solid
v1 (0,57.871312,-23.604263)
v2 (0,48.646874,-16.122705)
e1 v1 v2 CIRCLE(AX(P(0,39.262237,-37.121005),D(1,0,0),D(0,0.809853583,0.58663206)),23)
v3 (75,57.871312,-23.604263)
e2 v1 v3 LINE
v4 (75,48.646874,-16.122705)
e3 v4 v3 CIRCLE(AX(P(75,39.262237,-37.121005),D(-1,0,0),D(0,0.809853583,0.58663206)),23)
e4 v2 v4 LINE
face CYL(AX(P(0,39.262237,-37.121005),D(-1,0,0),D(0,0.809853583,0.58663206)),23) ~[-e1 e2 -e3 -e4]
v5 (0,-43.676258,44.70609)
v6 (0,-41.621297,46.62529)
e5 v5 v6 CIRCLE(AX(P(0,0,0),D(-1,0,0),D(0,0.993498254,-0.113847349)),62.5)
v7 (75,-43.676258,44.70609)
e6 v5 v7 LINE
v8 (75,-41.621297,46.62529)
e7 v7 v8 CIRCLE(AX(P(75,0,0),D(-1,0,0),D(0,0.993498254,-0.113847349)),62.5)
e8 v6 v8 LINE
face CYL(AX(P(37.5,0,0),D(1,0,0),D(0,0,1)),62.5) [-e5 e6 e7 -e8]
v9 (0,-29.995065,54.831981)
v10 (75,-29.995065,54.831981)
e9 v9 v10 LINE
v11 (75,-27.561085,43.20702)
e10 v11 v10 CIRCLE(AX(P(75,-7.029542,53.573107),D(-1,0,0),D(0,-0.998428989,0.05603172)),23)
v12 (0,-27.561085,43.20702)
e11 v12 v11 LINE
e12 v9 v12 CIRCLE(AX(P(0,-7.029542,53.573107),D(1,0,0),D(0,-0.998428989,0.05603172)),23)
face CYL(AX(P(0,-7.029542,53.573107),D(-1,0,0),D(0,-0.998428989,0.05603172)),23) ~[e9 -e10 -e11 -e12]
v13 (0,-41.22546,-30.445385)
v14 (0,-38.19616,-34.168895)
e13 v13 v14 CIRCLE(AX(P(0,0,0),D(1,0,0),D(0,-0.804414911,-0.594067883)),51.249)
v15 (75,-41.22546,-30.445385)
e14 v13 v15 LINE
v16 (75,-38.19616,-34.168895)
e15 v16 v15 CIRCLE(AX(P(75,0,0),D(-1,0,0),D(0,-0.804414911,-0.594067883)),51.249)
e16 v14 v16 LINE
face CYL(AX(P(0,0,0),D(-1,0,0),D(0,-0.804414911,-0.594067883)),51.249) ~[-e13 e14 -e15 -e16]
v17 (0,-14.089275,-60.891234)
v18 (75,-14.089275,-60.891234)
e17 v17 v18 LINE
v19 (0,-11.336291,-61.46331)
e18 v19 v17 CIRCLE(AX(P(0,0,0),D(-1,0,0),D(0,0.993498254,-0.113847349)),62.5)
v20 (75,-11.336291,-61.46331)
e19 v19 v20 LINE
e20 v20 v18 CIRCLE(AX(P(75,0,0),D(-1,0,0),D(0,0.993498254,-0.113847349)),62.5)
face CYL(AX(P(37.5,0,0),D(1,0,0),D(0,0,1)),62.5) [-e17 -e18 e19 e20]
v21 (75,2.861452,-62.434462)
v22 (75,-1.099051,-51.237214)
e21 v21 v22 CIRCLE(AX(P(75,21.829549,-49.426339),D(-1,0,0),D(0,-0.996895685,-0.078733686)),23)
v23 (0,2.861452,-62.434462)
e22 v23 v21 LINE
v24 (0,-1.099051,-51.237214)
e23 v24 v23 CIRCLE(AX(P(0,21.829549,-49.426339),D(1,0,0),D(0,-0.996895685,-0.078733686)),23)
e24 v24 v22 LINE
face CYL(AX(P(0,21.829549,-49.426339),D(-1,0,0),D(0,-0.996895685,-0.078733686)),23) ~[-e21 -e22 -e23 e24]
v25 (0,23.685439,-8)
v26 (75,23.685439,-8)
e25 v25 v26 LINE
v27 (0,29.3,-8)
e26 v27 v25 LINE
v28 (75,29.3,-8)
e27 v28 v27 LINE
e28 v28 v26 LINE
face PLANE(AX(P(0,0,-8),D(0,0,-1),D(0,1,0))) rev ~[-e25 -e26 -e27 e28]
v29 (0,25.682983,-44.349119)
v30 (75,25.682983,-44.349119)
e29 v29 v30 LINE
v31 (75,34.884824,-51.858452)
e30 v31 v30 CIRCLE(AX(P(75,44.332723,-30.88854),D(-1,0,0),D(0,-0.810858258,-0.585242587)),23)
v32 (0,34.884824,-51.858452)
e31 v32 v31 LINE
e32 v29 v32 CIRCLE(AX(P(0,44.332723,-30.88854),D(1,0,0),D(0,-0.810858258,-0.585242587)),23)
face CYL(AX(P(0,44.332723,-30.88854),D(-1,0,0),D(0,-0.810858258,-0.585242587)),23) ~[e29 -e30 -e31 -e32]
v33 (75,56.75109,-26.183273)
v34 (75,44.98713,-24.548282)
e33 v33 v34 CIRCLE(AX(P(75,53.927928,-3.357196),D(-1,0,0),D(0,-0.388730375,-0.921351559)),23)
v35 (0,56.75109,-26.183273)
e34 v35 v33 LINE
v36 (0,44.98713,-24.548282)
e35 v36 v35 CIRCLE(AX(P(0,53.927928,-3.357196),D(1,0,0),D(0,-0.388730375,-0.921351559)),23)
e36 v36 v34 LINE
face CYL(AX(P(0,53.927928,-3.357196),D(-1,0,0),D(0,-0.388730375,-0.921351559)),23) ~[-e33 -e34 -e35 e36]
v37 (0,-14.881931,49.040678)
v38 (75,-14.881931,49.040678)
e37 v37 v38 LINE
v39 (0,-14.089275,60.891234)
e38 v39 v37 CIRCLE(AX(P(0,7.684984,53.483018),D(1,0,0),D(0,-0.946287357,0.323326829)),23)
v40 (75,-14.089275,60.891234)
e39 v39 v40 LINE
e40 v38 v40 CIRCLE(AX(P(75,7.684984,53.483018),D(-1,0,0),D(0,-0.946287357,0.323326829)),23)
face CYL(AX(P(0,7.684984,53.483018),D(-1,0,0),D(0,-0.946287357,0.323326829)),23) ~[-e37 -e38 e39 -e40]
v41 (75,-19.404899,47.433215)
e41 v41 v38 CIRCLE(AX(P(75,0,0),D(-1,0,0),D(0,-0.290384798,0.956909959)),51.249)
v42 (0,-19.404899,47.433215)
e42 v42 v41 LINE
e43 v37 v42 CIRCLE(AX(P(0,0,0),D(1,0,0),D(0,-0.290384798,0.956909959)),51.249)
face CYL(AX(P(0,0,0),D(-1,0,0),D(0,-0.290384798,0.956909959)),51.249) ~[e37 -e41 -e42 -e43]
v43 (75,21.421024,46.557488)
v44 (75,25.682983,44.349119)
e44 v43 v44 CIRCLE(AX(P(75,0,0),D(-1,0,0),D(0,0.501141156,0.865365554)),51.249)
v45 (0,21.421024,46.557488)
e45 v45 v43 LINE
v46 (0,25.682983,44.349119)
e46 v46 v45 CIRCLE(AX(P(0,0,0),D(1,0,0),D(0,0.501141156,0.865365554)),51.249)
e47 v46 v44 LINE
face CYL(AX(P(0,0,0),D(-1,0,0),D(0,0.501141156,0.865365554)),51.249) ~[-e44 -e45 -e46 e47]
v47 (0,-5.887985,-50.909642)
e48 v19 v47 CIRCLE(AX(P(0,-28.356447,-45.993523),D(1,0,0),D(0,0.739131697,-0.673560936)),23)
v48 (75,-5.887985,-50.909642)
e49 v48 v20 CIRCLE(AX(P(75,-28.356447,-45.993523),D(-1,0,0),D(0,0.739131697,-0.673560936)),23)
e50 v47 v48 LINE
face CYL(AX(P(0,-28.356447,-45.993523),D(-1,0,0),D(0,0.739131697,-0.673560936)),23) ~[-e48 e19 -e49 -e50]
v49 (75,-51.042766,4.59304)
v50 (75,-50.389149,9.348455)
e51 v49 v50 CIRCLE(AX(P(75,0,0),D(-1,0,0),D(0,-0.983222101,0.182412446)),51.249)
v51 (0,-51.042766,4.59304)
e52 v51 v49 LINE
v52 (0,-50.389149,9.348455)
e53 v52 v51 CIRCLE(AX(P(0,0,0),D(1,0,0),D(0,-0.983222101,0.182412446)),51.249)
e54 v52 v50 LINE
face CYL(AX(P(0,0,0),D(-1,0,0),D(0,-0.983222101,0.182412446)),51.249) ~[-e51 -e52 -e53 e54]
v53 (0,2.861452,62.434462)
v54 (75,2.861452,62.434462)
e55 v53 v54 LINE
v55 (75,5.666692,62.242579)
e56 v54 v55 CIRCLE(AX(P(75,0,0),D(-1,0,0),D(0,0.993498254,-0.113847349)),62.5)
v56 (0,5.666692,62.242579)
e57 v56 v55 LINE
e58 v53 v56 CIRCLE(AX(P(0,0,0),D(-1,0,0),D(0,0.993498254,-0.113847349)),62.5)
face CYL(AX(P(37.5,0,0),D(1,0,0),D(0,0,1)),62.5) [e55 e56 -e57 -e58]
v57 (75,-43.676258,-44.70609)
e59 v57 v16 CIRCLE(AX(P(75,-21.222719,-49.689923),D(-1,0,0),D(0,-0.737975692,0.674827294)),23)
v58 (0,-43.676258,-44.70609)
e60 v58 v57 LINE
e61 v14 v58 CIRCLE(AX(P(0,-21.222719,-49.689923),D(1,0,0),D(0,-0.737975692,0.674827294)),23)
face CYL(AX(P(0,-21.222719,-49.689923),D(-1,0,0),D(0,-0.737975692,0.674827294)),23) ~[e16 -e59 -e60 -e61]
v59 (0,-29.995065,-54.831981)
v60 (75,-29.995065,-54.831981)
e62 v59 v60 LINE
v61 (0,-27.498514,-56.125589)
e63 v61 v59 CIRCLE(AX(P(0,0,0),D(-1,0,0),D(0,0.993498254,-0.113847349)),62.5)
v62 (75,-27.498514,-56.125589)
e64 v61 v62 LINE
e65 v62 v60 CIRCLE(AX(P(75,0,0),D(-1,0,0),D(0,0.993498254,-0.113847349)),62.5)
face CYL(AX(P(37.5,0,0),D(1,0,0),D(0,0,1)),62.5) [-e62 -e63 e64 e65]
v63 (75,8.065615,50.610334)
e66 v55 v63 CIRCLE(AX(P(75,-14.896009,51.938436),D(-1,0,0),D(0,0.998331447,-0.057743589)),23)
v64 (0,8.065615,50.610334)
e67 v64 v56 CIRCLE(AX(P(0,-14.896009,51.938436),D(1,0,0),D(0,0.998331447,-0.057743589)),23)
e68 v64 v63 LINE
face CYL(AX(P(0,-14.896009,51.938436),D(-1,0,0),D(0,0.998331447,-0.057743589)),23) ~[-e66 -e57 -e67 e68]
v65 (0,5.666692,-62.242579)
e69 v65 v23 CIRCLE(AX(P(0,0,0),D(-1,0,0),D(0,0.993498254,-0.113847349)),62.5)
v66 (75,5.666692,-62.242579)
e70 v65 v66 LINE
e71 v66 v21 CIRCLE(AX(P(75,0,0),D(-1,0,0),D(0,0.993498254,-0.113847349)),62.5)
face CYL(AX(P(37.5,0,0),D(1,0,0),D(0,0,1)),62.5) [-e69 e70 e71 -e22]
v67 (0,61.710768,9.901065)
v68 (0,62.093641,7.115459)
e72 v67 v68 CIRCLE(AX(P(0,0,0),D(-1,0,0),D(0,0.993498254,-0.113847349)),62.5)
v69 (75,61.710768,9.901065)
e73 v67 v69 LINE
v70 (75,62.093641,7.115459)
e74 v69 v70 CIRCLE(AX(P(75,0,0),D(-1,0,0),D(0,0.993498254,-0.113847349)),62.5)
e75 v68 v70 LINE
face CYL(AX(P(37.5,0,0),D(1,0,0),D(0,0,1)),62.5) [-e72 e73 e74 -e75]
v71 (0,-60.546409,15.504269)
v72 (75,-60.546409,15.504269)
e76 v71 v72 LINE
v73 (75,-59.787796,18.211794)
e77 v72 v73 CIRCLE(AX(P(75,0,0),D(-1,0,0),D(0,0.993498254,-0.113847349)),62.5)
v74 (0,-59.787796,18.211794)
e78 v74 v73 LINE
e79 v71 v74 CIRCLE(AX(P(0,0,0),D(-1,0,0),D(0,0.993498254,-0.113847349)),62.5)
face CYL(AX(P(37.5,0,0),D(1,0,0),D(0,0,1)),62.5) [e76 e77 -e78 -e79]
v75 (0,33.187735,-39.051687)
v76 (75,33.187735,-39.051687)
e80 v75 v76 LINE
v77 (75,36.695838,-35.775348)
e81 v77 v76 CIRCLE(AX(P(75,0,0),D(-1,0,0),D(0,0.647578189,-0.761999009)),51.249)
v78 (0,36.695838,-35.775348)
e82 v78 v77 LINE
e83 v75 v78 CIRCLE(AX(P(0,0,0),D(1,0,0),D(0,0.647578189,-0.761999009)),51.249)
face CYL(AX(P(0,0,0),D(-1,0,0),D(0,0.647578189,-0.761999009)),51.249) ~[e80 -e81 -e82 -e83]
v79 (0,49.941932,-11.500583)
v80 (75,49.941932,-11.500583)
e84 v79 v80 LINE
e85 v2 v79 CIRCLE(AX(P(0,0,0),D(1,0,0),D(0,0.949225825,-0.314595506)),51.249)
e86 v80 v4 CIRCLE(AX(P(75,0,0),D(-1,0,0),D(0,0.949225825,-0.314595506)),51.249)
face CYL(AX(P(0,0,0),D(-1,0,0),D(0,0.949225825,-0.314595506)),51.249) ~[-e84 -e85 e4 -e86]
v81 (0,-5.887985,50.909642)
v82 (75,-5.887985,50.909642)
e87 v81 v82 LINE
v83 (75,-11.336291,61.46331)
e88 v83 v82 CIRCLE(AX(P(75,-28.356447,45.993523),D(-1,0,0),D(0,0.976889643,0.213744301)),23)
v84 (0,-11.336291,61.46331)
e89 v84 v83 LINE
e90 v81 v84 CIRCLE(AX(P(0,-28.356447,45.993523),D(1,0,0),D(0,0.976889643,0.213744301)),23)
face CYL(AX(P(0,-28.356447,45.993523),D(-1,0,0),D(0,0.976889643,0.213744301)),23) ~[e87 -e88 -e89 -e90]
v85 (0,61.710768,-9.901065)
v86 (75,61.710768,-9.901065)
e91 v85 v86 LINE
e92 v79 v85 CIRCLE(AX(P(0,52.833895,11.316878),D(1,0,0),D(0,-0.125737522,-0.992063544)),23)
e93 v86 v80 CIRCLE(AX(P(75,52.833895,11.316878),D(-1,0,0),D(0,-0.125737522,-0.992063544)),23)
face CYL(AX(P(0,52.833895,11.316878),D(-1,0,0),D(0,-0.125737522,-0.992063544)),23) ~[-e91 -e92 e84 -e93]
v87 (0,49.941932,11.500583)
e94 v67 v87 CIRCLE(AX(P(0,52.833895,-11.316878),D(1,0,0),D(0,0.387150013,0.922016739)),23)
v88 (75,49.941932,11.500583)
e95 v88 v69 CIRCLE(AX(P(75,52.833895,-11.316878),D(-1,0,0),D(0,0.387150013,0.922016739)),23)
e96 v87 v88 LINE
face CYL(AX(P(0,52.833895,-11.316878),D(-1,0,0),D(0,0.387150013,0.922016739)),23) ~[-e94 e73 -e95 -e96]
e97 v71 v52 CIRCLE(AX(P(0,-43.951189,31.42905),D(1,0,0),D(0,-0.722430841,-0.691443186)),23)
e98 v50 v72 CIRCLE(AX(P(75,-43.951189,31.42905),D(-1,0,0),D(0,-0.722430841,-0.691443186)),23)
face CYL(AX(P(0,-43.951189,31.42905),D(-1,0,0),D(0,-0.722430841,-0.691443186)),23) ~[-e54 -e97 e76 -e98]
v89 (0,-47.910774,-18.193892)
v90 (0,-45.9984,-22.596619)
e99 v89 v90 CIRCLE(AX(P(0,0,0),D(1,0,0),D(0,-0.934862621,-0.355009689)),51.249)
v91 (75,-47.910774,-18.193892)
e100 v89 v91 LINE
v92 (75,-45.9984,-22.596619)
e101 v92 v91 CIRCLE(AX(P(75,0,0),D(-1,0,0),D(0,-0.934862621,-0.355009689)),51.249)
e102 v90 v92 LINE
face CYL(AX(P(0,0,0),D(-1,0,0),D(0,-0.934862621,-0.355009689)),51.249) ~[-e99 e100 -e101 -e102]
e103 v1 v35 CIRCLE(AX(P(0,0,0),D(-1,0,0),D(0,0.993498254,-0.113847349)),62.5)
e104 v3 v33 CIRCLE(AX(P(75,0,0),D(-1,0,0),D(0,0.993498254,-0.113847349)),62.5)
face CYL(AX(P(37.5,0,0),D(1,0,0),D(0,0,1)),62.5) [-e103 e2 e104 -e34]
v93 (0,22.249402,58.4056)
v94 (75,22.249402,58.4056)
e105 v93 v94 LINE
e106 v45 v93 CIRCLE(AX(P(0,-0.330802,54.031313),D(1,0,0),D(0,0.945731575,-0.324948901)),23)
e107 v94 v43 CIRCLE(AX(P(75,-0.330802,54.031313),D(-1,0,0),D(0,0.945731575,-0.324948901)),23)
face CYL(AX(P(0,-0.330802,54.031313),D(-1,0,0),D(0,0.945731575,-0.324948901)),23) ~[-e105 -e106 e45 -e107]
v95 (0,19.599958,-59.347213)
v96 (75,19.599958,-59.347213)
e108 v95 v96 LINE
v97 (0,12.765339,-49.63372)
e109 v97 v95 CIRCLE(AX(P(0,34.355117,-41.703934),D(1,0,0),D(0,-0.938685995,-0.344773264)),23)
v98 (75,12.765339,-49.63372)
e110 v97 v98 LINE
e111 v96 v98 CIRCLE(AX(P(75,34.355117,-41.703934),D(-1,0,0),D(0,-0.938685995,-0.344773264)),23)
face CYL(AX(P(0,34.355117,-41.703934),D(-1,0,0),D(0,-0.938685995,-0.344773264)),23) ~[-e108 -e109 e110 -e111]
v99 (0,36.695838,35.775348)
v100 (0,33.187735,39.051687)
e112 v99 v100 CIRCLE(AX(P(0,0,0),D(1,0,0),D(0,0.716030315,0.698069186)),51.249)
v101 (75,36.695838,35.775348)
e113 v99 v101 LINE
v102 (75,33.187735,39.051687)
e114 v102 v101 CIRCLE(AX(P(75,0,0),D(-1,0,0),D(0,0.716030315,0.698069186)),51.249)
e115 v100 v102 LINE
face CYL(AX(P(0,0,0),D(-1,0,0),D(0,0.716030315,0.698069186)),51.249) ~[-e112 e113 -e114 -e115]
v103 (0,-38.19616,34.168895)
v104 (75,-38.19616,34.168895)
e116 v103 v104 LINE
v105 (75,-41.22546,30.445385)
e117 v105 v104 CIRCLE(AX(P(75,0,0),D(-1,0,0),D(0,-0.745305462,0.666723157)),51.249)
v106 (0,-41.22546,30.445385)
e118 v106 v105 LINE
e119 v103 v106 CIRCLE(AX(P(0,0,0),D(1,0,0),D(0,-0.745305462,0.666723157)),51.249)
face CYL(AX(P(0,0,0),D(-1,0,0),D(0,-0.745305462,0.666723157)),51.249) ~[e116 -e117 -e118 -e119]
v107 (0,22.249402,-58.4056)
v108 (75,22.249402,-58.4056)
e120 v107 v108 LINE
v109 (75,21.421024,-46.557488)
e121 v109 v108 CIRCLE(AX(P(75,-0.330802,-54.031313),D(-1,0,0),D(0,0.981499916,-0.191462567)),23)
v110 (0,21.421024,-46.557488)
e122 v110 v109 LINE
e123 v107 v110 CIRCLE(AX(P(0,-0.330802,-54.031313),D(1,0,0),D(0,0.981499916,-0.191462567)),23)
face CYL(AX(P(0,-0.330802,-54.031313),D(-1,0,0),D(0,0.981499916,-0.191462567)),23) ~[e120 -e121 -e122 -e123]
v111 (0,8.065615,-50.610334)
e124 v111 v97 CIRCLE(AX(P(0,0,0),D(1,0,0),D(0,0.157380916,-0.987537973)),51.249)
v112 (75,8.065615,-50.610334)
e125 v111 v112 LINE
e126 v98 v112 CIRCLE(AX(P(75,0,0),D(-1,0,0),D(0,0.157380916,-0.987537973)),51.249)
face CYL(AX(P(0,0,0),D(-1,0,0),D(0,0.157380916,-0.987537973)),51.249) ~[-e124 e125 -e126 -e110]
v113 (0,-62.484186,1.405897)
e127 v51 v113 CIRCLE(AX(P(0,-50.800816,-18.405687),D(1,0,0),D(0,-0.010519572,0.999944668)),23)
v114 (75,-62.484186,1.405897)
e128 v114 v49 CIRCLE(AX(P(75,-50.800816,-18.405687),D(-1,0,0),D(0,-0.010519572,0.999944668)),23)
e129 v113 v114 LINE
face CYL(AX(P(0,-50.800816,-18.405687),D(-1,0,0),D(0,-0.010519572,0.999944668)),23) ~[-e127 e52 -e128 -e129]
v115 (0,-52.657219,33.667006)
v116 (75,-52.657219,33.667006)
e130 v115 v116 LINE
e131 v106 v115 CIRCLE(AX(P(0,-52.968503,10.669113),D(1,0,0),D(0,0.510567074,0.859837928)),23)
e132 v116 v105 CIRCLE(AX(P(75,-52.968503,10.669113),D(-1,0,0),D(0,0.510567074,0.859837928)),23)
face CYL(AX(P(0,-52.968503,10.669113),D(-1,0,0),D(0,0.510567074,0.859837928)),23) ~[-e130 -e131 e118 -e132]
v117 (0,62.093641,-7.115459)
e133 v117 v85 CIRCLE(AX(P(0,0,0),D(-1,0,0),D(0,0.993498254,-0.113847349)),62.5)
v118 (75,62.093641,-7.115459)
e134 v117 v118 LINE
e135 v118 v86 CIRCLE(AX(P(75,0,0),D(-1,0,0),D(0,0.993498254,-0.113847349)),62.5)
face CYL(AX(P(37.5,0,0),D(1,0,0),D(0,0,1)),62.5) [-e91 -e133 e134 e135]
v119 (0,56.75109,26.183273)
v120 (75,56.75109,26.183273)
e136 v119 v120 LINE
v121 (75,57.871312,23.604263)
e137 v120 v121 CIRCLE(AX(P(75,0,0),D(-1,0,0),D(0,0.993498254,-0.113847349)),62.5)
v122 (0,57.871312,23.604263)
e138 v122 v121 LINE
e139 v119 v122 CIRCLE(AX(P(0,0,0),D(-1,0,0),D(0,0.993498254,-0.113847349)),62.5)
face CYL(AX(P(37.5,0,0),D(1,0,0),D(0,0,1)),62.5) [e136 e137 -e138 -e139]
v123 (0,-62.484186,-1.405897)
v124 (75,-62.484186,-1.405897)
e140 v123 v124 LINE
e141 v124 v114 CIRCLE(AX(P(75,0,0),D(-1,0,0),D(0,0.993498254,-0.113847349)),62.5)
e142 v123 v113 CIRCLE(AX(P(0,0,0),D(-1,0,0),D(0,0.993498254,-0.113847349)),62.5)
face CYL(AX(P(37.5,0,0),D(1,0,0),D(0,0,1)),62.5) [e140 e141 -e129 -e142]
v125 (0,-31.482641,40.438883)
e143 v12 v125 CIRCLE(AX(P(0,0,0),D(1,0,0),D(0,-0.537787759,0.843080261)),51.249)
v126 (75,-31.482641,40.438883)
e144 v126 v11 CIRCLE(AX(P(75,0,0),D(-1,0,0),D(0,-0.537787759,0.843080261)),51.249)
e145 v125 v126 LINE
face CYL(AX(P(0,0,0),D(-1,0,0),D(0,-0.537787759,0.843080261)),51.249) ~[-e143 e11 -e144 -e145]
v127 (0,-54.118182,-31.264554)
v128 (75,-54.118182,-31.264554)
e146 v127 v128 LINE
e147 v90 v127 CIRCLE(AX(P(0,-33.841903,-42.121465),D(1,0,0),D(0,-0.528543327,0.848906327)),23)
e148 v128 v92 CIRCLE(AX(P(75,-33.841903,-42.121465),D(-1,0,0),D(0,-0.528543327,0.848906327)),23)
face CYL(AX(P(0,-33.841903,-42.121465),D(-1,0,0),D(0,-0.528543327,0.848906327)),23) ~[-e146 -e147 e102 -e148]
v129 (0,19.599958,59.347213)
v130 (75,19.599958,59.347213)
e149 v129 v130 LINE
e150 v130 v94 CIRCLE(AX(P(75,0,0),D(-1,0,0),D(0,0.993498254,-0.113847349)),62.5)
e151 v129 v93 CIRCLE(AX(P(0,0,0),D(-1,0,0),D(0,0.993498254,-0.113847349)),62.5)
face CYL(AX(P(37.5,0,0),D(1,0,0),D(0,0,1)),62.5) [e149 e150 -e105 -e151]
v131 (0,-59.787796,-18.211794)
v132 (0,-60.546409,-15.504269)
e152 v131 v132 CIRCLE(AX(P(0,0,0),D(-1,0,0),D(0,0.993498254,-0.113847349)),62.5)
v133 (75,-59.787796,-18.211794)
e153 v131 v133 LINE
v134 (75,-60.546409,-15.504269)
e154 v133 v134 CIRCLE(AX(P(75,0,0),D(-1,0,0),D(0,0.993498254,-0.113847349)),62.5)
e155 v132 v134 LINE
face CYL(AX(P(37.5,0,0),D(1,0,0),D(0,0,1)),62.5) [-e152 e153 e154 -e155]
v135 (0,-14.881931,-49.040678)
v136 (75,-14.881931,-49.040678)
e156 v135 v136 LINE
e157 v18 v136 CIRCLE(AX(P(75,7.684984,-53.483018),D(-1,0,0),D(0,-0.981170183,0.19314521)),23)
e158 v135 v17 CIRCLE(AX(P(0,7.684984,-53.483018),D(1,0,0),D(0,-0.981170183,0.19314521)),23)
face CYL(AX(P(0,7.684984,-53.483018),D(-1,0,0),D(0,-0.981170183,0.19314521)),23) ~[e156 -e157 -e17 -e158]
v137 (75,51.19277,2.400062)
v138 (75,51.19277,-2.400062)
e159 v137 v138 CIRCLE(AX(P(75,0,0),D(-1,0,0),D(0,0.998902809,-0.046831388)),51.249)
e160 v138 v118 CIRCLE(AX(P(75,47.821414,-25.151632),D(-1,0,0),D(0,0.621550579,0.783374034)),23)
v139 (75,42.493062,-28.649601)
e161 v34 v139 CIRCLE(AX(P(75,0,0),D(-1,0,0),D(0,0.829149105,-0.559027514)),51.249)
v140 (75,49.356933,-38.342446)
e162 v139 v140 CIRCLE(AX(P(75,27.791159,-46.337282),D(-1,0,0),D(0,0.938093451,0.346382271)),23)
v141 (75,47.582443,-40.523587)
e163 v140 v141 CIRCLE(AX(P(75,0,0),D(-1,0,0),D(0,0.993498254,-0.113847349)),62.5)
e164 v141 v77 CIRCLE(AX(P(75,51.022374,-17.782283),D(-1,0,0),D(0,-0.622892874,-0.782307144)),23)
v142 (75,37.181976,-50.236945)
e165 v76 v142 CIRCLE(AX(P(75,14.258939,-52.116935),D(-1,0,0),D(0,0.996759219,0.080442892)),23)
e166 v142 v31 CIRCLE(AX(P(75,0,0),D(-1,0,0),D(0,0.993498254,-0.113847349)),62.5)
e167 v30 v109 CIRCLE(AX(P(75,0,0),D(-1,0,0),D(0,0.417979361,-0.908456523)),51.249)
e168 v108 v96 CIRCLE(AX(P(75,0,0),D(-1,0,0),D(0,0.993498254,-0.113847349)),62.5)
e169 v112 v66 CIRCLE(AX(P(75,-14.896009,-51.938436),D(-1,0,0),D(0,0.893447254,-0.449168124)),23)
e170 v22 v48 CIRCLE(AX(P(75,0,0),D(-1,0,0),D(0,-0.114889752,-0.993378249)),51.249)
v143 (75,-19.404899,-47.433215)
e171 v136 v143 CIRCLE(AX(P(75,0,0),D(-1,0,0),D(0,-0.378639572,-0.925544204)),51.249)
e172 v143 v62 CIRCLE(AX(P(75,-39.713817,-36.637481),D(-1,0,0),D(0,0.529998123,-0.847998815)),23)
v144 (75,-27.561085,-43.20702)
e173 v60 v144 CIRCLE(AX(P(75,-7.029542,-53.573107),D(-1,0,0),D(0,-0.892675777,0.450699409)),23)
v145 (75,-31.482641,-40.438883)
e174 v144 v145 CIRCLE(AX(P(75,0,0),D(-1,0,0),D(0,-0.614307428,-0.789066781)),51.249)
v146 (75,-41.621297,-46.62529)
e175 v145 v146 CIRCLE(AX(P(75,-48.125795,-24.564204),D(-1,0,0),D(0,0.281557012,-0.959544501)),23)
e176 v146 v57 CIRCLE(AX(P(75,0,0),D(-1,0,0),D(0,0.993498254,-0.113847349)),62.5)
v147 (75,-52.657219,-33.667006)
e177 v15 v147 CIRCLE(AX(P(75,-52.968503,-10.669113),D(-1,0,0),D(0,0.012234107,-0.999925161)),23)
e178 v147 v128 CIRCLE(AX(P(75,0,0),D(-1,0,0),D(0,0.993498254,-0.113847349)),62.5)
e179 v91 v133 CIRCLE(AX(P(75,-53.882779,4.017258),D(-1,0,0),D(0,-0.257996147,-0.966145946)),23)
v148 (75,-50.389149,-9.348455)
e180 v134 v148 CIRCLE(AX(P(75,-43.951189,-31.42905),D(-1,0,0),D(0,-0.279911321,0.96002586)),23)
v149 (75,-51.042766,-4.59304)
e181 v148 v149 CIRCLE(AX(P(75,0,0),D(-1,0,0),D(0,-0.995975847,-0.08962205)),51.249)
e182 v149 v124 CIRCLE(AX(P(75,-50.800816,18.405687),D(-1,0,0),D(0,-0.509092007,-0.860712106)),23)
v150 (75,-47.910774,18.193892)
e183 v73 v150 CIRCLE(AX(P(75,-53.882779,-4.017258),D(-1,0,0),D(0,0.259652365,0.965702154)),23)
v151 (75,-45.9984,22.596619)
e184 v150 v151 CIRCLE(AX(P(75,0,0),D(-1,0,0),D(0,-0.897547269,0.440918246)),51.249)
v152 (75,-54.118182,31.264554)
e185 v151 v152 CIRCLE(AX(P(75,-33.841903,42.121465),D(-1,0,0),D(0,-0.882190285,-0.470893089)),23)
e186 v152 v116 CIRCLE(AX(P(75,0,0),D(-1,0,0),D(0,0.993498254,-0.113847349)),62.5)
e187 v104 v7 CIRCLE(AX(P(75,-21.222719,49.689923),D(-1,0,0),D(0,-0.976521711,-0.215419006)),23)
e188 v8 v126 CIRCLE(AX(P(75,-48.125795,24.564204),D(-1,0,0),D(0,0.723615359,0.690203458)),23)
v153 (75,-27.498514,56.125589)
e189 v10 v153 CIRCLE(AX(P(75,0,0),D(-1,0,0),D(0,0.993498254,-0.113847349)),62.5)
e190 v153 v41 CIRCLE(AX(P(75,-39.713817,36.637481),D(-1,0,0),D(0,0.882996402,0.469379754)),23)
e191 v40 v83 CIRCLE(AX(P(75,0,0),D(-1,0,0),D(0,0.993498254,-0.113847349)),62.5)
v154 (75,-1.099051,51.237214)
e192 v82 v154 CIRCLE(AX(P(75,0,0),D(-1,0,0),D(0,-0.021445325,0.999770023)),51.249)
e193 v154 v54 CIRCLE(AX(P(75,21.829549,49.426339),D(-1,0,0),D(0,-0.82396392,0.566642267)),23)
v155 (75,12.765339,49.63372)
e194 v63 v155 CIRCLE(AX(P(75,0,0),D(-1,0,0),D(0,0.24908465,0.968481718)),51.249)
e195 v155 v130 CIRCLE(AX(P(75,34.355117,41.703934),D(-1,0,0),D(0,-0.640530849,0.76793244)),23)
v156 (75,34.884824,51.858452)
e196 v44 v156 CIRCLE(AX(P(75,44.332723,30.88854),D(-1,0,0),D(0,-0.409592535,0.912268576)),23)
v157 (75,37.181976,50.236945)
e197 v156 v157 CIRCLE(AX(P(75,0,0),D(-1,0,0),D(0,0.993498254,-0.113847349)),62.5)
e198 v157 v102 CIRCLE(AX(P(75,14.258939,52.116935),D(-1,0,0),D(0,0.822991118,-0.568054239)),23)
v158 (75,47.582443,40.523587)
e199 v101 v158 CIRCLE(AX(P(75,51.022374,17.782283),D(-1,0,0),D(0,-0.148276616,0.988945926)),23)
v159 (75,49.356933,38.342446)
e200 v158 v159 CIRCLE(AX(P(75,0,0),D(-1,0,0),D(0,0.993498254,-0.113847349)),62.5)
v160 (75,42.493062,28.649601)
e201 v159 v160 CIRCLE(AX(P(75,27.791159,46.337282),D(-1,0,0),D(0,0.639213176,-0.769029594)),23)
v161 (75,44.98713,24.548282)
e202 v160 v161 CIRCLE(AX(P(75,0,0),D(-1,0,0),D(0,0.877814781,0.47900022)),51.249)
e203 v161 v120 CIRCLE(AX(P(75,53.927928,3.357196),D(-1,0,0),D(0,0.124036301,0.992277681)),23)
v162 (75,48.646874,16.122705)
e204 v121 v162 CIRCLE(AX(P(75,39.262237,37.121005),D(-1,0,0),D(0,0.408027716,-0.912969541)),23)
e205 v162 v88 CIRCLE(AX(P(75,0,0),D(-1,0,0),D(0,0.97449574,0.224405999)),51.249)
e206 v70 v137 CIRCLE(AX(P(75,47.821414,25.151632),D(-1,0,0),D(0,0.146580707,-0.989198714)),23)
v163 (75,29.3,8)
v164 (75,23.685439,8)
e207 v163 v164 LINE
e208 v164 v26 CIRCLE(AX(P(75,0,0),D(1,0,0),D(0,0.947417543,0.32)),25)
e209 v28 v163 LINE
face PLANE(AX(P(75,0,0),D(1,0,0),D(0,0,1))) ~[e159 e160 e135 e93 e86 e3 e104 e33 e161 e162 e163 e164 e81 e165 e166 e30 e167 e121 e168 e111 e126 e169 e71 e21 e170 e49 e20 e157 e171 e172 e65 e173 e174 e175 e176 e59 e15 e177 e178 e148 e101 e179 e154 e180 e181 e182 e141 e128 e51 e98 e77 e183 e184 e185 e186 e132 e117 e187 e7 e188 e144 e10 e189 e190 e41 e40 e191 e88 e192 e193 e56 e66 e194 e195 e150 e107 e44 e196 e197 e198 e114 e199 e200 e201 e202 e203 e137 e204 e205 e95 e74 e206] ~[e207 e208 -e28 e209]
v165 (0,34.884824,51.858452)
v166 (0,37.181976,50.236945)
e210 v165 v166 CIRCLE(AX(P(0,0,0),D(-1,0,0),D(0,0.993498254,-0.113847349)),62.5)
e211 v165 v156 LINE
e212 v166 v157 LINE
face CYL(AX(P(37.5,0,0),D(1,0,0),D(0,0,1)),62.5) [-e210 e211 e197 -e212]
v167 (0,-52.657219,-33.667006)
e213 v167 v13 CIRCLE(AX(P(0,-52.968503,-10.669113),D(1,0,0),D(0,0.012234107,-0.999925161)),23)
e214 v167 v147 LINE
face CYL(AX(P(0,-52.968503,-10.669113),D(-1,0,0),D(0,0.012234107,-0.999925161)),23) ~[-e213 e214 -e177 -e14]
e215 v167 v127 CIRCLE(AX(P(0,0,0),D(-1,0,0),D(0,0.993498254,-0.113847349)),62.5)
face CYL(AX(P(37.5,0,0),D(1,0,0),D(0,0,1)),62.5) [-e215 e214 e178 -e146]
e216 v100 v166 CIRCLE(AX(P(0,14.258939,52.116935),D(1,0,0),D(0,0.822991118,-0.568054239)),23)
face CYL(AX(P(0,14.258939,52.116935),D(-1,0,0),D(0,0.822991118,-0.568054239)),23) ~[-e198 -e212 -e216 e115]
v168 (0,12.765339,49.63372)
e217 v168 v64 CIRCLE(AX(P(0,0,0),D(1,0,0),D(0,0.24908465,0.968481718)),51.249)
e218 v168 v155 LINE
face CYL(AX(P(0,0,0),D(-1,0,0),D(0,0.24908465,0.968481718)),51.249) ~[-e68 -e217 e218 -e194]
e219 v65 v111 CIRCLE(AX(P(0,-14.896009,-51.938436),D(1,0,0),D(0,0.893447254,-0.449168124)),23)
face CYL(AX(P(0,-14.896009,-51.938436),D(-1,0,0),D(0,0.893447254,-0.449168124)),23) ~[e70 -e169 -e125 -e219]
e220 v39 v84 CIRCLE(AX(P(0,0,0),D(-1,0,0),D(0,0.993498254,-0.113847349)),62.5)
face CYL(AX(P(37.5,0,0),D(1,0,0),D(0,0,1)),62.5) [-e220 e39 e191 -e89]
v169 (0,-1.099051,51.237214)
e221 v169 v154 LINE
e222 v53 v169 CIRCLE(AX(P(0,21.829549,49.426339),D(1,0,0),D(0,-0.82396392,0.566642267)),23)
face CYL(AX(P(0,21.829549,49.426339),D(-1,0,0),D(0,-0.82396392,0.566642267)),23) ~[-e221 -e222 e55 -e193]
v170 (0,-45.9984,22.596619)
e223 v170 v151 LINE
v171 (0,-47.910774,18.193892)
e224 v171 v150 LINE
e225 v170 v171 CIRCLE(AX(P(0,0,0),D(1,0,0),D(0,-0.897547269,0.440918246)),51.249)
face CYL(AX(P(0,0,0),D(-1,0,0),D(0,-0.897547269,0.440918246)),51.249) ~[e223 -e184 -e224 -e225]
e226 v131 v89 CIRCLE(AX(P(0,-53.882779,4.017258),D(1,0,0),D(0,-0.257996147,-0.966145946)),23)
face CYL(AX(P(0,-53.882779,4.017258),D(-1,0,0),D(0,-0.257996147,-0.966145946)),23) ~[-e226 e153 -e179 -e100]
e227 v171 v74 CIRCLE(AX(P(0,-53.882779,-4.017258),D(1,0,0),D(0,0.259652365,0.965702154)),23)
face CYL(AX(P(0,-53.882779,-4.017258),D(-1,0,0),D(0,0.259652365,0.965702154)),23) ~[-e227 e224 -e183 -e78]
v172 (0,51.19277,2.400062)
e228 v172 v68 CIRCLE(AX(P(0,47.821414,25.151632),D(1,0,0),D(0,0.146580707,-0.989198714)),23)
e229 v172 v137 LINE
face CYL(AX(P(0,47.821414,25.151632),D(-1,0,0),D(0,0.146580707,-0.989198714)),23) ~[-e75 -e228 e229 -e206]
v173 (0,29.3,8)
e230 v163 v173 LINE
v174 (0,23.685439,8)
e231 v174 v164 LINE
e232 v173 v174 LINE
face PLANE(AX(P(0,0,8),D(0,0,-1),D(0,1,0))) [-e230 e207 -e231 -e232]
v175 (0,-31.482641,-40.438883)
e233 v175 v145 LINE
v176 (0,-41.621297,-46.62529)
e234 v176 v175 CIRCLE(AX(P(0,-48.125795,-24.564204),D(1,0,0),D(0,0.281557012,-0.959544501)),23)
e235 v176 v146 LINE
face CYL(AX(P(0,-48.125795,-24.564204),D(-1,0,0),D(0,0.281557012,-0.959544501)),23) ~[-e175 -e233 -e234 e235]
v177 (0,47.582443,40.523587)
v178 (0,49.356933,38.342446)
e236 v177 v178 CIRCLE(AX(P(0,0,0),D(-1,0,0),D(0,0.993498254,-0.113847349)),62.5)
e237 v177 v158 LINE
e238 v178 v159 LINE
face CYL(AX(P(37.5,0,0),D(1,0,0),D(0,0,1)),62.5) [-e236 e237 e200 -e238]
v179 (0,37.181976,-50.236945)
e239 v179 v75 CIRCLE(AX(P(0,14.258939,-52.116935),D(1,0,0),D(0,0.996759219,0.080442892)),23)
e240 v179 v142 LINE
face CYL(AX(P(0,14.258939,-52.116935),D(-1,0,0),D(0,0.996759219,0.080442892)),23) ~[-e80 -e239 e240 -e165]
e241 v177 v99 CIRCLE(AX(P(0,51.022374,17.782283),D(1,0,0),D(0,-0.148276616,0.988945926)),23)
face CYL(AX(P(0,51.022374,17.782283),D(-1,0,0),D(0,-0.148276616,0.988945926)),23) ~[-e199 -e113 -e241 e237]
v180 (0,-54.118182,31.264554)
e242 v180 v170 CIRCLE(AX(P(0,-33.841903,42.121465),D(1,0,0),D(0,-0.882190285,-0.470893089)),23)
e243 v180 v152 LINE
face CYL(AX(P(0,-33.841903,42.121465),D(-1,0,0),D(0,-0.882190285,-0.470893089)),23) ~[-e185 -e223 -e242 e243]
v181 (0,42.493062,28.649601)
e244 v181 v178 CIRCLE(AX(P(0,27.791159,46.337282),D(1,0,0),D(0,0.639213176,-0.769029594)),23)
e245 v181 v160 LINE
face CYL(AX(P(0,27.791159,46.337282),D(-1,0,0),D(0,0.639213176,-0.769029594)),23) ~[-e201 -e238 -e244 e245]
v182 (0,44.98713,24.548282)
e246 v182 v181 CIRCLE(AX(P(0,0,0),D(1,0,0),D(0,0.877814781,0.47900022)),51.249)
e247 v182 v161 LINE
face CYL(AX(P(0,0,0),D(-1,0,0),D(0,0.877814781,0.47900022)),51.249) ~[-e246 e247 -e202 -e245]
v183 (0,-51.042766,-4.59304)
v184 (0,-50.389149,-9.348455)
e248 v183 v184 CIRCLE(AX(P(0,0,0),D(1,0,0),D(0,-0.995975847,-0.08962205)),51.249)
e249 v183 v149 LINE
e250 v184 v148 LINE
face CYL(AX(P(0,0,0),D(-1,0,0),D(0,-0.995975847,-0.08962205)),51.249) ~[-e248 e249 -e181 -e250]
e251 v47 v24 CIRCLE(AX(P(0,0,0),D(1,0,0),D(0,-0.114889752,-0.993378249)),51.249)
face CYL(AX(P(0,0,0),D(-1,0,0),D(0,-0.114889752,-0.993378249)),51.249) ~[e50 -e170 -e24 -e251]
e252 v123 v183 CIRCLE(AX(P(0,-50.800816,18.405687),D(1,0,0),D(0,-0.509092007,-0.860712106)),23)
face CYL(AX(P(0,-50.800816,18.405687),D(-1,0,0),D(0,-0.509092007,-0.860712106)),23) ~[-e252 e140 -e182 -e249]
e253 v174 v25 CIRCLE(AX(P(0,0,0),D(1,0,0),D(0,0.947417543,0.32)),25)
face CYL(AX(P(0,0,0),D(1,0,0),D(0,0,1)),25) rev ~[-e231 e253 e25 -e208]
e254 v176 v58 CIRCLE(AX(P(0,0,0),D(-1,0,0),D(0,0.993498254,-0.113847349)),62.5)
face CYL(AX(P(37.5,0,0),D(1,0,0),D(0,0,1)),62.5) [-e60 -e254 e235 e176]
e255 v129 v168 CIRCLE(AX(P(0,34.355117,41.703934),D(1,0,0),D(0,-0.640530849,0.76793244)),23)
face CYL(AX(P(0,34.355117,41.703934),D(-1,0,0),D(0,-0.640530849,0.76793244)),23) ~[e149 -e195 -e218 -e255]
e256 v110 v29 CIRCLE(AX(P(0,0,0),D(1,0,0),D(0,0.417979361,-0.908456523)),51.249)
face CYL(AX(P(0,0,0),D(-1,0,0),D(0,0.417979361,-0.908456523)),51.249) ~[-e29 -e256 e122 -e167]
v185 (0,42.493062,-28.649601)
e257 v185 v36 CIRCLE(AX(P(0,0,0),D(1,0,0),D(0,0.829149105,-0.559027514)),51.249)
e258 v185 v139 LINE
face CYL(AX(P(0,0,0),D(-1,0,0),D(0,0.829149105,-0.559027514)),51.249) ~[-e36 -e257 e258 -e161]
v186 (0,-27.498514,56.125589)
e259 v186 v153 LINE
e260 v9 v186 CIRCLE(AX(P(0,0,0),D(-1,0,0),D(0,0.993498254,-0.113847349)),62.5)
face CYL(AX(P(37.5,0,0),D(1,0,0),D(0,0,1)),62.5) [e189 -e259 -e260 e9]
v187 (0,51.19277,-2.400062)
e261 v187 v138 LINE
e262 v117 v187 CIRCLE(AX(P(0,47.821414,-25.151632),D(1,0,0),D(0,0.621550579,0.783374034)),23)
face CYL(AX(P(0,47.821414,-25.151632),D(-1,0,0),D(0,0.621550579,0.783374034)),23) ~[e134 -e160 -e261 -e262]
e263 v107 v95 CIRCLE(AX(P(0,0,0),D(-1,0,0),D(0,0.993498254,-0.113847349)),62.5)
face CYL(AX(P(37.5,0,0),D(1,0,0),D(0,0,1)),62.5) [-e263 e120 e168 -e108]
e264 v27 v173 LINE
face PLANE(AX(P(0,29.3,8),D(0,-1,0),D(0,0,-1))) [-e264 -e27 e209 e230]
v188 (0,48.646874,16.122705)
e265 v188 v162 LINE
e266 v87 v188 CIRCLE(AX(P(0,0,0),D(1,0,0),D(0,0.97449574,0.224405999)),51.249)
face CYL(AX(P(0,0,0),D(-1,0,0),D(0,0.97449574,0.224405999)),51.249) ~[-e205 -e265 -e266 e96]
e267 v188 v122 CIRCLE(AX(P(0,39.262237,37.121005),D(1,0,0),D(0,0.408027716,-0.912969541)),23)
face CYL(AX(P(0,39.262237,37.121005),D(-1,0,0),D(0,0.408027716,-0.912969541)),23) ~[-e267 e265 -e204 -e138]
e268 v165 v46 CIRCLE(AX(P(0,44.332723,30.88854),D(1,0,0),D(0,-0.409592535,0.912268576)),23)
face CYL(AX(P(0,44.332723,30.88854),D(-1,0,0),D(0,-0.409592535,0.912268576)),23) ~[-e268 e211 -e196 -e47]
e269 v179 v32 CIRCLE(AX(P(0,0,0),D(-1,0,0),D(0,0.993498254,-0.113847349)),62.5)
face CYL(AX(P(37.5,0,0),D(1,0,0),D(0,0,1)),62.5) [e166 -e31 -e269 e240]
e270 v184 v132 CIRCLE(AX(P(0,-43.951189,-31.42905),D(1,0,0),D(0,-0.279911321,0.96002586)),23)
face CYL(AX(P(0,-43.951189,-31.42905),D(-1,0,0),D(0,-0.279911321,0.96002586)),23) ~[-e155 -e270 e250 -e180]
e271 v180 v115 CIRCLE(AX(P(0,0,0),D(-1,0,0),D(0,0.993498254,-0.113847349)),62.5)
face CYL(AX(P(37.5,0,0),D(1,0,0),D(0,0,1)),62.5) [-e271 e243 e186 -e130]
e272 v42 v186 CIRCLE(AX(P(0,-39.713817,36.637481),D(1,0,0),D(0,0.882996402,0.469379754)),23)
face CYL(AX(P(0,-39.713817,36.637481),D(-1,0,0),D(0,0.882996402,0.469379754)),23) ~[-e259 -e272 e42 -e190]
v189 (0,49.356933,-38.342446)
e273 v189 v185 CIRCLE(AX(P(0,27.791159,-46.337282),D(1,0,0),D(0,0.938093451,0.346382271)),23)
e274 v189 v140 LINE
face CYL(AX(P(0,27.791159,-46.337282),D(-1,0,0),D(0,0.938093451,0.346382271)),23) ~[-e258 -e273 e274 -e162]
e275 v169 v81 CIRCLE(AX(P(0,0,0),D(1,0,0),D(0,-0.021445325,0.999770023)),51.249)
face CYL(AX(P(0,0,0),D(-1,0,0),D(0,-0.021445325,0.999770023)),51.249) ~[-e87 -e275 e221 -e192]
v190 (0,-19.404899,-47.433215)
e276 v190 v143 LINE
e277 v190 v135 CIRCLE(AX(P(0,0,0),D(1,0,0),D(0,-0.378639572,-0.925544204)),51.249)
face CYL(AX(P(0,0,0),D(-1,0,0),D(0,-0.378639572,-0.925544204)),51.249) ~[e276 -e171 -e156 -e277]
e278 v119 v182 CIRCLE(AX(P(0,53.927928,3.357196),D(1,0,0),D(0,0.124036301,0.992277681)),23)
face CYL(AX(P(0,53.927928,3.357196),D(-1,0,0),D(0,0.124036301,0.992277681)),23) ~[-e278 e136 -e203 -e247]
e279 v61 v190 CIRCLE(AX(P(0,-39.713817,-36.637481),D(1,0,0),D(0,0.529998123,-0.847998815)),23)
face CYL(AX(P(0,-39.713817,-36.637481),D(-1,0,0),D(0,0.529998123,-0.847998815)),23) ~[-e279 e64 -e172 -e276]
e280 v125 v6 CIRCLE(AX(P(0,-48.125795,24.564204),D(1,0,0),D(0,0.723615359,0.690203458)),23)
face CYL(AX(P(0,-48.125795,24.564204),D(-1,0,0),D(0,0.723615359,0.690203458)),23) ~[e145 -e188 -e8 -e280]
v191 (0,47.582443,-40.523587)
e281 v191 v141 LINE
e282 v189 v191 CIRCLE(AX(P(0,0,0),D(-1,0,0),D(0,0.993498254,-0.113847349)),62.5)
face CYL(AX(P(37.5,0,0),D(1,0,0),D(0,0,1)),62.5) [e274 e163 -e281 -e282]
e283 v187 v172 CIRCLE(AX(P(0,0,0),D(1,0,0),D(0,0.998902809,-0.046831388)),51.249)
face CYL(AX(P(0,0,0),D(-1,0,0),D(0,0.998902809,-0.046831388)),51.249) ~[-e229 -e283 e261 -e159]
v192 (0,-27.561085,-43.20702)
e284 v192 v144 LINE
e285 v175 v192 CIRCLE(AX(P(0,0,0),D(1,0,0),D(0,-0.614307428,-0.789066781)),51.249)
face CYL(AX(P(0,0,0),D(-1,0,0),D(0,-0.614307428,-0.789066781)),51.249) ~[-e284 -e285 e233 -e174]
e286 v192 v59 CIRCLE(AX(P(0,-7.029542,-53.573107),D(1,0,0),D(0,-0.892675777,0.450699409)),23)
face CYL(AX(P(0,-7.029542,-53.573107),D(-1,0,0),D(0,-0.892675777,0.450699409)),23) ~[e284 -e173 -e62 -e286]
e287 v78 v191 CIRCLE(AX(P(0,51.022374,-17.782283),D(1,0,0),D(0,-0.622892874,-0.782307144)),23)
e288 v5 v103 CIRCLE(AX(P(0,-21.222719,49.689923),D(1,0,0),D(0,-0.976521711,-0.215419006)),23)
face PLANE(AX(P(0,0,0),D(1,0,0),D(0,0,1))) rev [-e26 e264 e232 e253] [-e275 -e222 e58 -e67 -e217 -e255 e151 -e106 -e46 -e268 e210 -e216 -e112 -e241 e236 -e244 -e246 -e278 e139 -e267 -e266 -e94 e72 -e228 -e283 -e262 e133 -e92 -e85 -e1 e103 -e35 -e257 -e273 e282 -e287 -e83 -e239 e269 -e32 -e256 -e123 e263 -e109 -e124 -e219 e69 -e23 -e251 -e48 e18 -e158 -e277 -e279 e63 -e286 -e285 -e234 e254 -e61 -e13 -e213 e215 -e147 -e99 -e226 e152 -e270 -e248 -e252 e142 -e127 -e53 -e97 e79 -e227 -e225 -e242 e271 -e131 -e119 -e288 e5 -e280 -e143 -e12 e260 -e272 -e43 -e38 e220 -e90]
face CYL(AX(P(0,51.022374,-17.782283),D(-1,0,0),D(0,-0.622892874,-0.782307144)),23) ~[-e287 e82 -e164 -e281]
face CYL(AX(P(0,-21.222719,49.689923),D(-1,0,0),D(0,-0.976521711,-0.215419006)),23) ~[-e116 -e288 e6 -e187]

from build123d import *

# Parameters (mm, degrees)
BASPROSKE_W     = 75
BASPROSKE_H     = 62.5
TOOTHCUT_DEPTH  = 116.920231194
TEETHCUTS_COUNT = 23
TEETHCUTS_ANGLE = 344.347826087
BORSKE_R        = 25
BORE_DEPTH      = 75.0000508
KEYSKE_W        = 16
KEYSKE_H        = 29.3
KEYWAY_DEPTH    = 75.0000508


with BuildPart() as part:
    # BasProSke → Base-Revolve (revolve)
    with BuildSketch(Plane(origin=(0, 0, 0), x_dir=(1, 0, 0), z_dir=(0, 1, 0)), mode=Mode.PRIVATE) as base_revolve_sk:
        with Locations((37.5, 31.25)):
            Rectangle(BASPROSKE_W, BASPROSKE_H)
    revolve(base_revolve_sk.sketch.rotate(Axis((-10, 0, 0), (1, 0, 0)), 180), axis=Axis((-10, 0, 0), (1, 0, 0)))

    # TooCutSke → ToothCut (cut, through all)
    with BuildSketch(Plane(origin=(0, 0, 0), x_dir=(0, 0, -1), z_dir=(1, 0, 0))):
        with BuildLine():
            ThreePointArc((2.400061822, 51.192770039), (0, 51.249), (-2.400061822, 51.192770039))
            ThreePointArc((-2.400061822, 51.192770039), (-4.047924228, 56.96654952), (-7.134029469, 62.11707711))
            ThreePointArc((-7.134029469, 62.11707711), (0, 62.5254), (7.134029469, 62.11707711))
            ThreePointArc((7.134029469, 62.11707711), (4.047924228, 56.96654952), (2.400061822, 51.192770039))
        make_face()
    toothcut = extrude(amount=TOOTHCUT_DEPTH, mode=Mode.SUBTRACT)

    # TeethCuts: ToothCut ×23 about axis
    teethcuts_axis = Axis((-10, 0, 0), (1, 0, 0))
    for i in range(1, TEETHCUTS_COUNT):
        add(toothcut.rotate(teethcuts_axis, i * TEETHCUTS_ANGLE / (TEETHCUTS_COUNT - 1)), mode=Mode.SUBTRACT)

    # BorSke → Bore (cut, symmetric)
    with BuildSketch(Plane(origin=(0, 0, 0), x_dir=(0, 0, -1), z_dir=(1, 0, 0))):
        with Locations(Location((0, 0, 0), (0, 0, 180))):
            Circle(BORSKE_R)
    extrude(amount=BORE_DEPTH, both=True, mode=Mode.SUBTRACT)

    # KeySke → Keyway (cut, symmetric)
    with BuildSketch(Plane(origin=(0, 0, 0), x_dir=(0, 0, -1), z_dir=(1, 0, 0))):
        with Locations((0, 14.65)):
            Rectangle(KEYSKE_W, KEYSKE_H)
    extrude(amount=KEYWAY_DEPTH, both=True, mode=Mode.SUBTRACT)


solid = part.part
